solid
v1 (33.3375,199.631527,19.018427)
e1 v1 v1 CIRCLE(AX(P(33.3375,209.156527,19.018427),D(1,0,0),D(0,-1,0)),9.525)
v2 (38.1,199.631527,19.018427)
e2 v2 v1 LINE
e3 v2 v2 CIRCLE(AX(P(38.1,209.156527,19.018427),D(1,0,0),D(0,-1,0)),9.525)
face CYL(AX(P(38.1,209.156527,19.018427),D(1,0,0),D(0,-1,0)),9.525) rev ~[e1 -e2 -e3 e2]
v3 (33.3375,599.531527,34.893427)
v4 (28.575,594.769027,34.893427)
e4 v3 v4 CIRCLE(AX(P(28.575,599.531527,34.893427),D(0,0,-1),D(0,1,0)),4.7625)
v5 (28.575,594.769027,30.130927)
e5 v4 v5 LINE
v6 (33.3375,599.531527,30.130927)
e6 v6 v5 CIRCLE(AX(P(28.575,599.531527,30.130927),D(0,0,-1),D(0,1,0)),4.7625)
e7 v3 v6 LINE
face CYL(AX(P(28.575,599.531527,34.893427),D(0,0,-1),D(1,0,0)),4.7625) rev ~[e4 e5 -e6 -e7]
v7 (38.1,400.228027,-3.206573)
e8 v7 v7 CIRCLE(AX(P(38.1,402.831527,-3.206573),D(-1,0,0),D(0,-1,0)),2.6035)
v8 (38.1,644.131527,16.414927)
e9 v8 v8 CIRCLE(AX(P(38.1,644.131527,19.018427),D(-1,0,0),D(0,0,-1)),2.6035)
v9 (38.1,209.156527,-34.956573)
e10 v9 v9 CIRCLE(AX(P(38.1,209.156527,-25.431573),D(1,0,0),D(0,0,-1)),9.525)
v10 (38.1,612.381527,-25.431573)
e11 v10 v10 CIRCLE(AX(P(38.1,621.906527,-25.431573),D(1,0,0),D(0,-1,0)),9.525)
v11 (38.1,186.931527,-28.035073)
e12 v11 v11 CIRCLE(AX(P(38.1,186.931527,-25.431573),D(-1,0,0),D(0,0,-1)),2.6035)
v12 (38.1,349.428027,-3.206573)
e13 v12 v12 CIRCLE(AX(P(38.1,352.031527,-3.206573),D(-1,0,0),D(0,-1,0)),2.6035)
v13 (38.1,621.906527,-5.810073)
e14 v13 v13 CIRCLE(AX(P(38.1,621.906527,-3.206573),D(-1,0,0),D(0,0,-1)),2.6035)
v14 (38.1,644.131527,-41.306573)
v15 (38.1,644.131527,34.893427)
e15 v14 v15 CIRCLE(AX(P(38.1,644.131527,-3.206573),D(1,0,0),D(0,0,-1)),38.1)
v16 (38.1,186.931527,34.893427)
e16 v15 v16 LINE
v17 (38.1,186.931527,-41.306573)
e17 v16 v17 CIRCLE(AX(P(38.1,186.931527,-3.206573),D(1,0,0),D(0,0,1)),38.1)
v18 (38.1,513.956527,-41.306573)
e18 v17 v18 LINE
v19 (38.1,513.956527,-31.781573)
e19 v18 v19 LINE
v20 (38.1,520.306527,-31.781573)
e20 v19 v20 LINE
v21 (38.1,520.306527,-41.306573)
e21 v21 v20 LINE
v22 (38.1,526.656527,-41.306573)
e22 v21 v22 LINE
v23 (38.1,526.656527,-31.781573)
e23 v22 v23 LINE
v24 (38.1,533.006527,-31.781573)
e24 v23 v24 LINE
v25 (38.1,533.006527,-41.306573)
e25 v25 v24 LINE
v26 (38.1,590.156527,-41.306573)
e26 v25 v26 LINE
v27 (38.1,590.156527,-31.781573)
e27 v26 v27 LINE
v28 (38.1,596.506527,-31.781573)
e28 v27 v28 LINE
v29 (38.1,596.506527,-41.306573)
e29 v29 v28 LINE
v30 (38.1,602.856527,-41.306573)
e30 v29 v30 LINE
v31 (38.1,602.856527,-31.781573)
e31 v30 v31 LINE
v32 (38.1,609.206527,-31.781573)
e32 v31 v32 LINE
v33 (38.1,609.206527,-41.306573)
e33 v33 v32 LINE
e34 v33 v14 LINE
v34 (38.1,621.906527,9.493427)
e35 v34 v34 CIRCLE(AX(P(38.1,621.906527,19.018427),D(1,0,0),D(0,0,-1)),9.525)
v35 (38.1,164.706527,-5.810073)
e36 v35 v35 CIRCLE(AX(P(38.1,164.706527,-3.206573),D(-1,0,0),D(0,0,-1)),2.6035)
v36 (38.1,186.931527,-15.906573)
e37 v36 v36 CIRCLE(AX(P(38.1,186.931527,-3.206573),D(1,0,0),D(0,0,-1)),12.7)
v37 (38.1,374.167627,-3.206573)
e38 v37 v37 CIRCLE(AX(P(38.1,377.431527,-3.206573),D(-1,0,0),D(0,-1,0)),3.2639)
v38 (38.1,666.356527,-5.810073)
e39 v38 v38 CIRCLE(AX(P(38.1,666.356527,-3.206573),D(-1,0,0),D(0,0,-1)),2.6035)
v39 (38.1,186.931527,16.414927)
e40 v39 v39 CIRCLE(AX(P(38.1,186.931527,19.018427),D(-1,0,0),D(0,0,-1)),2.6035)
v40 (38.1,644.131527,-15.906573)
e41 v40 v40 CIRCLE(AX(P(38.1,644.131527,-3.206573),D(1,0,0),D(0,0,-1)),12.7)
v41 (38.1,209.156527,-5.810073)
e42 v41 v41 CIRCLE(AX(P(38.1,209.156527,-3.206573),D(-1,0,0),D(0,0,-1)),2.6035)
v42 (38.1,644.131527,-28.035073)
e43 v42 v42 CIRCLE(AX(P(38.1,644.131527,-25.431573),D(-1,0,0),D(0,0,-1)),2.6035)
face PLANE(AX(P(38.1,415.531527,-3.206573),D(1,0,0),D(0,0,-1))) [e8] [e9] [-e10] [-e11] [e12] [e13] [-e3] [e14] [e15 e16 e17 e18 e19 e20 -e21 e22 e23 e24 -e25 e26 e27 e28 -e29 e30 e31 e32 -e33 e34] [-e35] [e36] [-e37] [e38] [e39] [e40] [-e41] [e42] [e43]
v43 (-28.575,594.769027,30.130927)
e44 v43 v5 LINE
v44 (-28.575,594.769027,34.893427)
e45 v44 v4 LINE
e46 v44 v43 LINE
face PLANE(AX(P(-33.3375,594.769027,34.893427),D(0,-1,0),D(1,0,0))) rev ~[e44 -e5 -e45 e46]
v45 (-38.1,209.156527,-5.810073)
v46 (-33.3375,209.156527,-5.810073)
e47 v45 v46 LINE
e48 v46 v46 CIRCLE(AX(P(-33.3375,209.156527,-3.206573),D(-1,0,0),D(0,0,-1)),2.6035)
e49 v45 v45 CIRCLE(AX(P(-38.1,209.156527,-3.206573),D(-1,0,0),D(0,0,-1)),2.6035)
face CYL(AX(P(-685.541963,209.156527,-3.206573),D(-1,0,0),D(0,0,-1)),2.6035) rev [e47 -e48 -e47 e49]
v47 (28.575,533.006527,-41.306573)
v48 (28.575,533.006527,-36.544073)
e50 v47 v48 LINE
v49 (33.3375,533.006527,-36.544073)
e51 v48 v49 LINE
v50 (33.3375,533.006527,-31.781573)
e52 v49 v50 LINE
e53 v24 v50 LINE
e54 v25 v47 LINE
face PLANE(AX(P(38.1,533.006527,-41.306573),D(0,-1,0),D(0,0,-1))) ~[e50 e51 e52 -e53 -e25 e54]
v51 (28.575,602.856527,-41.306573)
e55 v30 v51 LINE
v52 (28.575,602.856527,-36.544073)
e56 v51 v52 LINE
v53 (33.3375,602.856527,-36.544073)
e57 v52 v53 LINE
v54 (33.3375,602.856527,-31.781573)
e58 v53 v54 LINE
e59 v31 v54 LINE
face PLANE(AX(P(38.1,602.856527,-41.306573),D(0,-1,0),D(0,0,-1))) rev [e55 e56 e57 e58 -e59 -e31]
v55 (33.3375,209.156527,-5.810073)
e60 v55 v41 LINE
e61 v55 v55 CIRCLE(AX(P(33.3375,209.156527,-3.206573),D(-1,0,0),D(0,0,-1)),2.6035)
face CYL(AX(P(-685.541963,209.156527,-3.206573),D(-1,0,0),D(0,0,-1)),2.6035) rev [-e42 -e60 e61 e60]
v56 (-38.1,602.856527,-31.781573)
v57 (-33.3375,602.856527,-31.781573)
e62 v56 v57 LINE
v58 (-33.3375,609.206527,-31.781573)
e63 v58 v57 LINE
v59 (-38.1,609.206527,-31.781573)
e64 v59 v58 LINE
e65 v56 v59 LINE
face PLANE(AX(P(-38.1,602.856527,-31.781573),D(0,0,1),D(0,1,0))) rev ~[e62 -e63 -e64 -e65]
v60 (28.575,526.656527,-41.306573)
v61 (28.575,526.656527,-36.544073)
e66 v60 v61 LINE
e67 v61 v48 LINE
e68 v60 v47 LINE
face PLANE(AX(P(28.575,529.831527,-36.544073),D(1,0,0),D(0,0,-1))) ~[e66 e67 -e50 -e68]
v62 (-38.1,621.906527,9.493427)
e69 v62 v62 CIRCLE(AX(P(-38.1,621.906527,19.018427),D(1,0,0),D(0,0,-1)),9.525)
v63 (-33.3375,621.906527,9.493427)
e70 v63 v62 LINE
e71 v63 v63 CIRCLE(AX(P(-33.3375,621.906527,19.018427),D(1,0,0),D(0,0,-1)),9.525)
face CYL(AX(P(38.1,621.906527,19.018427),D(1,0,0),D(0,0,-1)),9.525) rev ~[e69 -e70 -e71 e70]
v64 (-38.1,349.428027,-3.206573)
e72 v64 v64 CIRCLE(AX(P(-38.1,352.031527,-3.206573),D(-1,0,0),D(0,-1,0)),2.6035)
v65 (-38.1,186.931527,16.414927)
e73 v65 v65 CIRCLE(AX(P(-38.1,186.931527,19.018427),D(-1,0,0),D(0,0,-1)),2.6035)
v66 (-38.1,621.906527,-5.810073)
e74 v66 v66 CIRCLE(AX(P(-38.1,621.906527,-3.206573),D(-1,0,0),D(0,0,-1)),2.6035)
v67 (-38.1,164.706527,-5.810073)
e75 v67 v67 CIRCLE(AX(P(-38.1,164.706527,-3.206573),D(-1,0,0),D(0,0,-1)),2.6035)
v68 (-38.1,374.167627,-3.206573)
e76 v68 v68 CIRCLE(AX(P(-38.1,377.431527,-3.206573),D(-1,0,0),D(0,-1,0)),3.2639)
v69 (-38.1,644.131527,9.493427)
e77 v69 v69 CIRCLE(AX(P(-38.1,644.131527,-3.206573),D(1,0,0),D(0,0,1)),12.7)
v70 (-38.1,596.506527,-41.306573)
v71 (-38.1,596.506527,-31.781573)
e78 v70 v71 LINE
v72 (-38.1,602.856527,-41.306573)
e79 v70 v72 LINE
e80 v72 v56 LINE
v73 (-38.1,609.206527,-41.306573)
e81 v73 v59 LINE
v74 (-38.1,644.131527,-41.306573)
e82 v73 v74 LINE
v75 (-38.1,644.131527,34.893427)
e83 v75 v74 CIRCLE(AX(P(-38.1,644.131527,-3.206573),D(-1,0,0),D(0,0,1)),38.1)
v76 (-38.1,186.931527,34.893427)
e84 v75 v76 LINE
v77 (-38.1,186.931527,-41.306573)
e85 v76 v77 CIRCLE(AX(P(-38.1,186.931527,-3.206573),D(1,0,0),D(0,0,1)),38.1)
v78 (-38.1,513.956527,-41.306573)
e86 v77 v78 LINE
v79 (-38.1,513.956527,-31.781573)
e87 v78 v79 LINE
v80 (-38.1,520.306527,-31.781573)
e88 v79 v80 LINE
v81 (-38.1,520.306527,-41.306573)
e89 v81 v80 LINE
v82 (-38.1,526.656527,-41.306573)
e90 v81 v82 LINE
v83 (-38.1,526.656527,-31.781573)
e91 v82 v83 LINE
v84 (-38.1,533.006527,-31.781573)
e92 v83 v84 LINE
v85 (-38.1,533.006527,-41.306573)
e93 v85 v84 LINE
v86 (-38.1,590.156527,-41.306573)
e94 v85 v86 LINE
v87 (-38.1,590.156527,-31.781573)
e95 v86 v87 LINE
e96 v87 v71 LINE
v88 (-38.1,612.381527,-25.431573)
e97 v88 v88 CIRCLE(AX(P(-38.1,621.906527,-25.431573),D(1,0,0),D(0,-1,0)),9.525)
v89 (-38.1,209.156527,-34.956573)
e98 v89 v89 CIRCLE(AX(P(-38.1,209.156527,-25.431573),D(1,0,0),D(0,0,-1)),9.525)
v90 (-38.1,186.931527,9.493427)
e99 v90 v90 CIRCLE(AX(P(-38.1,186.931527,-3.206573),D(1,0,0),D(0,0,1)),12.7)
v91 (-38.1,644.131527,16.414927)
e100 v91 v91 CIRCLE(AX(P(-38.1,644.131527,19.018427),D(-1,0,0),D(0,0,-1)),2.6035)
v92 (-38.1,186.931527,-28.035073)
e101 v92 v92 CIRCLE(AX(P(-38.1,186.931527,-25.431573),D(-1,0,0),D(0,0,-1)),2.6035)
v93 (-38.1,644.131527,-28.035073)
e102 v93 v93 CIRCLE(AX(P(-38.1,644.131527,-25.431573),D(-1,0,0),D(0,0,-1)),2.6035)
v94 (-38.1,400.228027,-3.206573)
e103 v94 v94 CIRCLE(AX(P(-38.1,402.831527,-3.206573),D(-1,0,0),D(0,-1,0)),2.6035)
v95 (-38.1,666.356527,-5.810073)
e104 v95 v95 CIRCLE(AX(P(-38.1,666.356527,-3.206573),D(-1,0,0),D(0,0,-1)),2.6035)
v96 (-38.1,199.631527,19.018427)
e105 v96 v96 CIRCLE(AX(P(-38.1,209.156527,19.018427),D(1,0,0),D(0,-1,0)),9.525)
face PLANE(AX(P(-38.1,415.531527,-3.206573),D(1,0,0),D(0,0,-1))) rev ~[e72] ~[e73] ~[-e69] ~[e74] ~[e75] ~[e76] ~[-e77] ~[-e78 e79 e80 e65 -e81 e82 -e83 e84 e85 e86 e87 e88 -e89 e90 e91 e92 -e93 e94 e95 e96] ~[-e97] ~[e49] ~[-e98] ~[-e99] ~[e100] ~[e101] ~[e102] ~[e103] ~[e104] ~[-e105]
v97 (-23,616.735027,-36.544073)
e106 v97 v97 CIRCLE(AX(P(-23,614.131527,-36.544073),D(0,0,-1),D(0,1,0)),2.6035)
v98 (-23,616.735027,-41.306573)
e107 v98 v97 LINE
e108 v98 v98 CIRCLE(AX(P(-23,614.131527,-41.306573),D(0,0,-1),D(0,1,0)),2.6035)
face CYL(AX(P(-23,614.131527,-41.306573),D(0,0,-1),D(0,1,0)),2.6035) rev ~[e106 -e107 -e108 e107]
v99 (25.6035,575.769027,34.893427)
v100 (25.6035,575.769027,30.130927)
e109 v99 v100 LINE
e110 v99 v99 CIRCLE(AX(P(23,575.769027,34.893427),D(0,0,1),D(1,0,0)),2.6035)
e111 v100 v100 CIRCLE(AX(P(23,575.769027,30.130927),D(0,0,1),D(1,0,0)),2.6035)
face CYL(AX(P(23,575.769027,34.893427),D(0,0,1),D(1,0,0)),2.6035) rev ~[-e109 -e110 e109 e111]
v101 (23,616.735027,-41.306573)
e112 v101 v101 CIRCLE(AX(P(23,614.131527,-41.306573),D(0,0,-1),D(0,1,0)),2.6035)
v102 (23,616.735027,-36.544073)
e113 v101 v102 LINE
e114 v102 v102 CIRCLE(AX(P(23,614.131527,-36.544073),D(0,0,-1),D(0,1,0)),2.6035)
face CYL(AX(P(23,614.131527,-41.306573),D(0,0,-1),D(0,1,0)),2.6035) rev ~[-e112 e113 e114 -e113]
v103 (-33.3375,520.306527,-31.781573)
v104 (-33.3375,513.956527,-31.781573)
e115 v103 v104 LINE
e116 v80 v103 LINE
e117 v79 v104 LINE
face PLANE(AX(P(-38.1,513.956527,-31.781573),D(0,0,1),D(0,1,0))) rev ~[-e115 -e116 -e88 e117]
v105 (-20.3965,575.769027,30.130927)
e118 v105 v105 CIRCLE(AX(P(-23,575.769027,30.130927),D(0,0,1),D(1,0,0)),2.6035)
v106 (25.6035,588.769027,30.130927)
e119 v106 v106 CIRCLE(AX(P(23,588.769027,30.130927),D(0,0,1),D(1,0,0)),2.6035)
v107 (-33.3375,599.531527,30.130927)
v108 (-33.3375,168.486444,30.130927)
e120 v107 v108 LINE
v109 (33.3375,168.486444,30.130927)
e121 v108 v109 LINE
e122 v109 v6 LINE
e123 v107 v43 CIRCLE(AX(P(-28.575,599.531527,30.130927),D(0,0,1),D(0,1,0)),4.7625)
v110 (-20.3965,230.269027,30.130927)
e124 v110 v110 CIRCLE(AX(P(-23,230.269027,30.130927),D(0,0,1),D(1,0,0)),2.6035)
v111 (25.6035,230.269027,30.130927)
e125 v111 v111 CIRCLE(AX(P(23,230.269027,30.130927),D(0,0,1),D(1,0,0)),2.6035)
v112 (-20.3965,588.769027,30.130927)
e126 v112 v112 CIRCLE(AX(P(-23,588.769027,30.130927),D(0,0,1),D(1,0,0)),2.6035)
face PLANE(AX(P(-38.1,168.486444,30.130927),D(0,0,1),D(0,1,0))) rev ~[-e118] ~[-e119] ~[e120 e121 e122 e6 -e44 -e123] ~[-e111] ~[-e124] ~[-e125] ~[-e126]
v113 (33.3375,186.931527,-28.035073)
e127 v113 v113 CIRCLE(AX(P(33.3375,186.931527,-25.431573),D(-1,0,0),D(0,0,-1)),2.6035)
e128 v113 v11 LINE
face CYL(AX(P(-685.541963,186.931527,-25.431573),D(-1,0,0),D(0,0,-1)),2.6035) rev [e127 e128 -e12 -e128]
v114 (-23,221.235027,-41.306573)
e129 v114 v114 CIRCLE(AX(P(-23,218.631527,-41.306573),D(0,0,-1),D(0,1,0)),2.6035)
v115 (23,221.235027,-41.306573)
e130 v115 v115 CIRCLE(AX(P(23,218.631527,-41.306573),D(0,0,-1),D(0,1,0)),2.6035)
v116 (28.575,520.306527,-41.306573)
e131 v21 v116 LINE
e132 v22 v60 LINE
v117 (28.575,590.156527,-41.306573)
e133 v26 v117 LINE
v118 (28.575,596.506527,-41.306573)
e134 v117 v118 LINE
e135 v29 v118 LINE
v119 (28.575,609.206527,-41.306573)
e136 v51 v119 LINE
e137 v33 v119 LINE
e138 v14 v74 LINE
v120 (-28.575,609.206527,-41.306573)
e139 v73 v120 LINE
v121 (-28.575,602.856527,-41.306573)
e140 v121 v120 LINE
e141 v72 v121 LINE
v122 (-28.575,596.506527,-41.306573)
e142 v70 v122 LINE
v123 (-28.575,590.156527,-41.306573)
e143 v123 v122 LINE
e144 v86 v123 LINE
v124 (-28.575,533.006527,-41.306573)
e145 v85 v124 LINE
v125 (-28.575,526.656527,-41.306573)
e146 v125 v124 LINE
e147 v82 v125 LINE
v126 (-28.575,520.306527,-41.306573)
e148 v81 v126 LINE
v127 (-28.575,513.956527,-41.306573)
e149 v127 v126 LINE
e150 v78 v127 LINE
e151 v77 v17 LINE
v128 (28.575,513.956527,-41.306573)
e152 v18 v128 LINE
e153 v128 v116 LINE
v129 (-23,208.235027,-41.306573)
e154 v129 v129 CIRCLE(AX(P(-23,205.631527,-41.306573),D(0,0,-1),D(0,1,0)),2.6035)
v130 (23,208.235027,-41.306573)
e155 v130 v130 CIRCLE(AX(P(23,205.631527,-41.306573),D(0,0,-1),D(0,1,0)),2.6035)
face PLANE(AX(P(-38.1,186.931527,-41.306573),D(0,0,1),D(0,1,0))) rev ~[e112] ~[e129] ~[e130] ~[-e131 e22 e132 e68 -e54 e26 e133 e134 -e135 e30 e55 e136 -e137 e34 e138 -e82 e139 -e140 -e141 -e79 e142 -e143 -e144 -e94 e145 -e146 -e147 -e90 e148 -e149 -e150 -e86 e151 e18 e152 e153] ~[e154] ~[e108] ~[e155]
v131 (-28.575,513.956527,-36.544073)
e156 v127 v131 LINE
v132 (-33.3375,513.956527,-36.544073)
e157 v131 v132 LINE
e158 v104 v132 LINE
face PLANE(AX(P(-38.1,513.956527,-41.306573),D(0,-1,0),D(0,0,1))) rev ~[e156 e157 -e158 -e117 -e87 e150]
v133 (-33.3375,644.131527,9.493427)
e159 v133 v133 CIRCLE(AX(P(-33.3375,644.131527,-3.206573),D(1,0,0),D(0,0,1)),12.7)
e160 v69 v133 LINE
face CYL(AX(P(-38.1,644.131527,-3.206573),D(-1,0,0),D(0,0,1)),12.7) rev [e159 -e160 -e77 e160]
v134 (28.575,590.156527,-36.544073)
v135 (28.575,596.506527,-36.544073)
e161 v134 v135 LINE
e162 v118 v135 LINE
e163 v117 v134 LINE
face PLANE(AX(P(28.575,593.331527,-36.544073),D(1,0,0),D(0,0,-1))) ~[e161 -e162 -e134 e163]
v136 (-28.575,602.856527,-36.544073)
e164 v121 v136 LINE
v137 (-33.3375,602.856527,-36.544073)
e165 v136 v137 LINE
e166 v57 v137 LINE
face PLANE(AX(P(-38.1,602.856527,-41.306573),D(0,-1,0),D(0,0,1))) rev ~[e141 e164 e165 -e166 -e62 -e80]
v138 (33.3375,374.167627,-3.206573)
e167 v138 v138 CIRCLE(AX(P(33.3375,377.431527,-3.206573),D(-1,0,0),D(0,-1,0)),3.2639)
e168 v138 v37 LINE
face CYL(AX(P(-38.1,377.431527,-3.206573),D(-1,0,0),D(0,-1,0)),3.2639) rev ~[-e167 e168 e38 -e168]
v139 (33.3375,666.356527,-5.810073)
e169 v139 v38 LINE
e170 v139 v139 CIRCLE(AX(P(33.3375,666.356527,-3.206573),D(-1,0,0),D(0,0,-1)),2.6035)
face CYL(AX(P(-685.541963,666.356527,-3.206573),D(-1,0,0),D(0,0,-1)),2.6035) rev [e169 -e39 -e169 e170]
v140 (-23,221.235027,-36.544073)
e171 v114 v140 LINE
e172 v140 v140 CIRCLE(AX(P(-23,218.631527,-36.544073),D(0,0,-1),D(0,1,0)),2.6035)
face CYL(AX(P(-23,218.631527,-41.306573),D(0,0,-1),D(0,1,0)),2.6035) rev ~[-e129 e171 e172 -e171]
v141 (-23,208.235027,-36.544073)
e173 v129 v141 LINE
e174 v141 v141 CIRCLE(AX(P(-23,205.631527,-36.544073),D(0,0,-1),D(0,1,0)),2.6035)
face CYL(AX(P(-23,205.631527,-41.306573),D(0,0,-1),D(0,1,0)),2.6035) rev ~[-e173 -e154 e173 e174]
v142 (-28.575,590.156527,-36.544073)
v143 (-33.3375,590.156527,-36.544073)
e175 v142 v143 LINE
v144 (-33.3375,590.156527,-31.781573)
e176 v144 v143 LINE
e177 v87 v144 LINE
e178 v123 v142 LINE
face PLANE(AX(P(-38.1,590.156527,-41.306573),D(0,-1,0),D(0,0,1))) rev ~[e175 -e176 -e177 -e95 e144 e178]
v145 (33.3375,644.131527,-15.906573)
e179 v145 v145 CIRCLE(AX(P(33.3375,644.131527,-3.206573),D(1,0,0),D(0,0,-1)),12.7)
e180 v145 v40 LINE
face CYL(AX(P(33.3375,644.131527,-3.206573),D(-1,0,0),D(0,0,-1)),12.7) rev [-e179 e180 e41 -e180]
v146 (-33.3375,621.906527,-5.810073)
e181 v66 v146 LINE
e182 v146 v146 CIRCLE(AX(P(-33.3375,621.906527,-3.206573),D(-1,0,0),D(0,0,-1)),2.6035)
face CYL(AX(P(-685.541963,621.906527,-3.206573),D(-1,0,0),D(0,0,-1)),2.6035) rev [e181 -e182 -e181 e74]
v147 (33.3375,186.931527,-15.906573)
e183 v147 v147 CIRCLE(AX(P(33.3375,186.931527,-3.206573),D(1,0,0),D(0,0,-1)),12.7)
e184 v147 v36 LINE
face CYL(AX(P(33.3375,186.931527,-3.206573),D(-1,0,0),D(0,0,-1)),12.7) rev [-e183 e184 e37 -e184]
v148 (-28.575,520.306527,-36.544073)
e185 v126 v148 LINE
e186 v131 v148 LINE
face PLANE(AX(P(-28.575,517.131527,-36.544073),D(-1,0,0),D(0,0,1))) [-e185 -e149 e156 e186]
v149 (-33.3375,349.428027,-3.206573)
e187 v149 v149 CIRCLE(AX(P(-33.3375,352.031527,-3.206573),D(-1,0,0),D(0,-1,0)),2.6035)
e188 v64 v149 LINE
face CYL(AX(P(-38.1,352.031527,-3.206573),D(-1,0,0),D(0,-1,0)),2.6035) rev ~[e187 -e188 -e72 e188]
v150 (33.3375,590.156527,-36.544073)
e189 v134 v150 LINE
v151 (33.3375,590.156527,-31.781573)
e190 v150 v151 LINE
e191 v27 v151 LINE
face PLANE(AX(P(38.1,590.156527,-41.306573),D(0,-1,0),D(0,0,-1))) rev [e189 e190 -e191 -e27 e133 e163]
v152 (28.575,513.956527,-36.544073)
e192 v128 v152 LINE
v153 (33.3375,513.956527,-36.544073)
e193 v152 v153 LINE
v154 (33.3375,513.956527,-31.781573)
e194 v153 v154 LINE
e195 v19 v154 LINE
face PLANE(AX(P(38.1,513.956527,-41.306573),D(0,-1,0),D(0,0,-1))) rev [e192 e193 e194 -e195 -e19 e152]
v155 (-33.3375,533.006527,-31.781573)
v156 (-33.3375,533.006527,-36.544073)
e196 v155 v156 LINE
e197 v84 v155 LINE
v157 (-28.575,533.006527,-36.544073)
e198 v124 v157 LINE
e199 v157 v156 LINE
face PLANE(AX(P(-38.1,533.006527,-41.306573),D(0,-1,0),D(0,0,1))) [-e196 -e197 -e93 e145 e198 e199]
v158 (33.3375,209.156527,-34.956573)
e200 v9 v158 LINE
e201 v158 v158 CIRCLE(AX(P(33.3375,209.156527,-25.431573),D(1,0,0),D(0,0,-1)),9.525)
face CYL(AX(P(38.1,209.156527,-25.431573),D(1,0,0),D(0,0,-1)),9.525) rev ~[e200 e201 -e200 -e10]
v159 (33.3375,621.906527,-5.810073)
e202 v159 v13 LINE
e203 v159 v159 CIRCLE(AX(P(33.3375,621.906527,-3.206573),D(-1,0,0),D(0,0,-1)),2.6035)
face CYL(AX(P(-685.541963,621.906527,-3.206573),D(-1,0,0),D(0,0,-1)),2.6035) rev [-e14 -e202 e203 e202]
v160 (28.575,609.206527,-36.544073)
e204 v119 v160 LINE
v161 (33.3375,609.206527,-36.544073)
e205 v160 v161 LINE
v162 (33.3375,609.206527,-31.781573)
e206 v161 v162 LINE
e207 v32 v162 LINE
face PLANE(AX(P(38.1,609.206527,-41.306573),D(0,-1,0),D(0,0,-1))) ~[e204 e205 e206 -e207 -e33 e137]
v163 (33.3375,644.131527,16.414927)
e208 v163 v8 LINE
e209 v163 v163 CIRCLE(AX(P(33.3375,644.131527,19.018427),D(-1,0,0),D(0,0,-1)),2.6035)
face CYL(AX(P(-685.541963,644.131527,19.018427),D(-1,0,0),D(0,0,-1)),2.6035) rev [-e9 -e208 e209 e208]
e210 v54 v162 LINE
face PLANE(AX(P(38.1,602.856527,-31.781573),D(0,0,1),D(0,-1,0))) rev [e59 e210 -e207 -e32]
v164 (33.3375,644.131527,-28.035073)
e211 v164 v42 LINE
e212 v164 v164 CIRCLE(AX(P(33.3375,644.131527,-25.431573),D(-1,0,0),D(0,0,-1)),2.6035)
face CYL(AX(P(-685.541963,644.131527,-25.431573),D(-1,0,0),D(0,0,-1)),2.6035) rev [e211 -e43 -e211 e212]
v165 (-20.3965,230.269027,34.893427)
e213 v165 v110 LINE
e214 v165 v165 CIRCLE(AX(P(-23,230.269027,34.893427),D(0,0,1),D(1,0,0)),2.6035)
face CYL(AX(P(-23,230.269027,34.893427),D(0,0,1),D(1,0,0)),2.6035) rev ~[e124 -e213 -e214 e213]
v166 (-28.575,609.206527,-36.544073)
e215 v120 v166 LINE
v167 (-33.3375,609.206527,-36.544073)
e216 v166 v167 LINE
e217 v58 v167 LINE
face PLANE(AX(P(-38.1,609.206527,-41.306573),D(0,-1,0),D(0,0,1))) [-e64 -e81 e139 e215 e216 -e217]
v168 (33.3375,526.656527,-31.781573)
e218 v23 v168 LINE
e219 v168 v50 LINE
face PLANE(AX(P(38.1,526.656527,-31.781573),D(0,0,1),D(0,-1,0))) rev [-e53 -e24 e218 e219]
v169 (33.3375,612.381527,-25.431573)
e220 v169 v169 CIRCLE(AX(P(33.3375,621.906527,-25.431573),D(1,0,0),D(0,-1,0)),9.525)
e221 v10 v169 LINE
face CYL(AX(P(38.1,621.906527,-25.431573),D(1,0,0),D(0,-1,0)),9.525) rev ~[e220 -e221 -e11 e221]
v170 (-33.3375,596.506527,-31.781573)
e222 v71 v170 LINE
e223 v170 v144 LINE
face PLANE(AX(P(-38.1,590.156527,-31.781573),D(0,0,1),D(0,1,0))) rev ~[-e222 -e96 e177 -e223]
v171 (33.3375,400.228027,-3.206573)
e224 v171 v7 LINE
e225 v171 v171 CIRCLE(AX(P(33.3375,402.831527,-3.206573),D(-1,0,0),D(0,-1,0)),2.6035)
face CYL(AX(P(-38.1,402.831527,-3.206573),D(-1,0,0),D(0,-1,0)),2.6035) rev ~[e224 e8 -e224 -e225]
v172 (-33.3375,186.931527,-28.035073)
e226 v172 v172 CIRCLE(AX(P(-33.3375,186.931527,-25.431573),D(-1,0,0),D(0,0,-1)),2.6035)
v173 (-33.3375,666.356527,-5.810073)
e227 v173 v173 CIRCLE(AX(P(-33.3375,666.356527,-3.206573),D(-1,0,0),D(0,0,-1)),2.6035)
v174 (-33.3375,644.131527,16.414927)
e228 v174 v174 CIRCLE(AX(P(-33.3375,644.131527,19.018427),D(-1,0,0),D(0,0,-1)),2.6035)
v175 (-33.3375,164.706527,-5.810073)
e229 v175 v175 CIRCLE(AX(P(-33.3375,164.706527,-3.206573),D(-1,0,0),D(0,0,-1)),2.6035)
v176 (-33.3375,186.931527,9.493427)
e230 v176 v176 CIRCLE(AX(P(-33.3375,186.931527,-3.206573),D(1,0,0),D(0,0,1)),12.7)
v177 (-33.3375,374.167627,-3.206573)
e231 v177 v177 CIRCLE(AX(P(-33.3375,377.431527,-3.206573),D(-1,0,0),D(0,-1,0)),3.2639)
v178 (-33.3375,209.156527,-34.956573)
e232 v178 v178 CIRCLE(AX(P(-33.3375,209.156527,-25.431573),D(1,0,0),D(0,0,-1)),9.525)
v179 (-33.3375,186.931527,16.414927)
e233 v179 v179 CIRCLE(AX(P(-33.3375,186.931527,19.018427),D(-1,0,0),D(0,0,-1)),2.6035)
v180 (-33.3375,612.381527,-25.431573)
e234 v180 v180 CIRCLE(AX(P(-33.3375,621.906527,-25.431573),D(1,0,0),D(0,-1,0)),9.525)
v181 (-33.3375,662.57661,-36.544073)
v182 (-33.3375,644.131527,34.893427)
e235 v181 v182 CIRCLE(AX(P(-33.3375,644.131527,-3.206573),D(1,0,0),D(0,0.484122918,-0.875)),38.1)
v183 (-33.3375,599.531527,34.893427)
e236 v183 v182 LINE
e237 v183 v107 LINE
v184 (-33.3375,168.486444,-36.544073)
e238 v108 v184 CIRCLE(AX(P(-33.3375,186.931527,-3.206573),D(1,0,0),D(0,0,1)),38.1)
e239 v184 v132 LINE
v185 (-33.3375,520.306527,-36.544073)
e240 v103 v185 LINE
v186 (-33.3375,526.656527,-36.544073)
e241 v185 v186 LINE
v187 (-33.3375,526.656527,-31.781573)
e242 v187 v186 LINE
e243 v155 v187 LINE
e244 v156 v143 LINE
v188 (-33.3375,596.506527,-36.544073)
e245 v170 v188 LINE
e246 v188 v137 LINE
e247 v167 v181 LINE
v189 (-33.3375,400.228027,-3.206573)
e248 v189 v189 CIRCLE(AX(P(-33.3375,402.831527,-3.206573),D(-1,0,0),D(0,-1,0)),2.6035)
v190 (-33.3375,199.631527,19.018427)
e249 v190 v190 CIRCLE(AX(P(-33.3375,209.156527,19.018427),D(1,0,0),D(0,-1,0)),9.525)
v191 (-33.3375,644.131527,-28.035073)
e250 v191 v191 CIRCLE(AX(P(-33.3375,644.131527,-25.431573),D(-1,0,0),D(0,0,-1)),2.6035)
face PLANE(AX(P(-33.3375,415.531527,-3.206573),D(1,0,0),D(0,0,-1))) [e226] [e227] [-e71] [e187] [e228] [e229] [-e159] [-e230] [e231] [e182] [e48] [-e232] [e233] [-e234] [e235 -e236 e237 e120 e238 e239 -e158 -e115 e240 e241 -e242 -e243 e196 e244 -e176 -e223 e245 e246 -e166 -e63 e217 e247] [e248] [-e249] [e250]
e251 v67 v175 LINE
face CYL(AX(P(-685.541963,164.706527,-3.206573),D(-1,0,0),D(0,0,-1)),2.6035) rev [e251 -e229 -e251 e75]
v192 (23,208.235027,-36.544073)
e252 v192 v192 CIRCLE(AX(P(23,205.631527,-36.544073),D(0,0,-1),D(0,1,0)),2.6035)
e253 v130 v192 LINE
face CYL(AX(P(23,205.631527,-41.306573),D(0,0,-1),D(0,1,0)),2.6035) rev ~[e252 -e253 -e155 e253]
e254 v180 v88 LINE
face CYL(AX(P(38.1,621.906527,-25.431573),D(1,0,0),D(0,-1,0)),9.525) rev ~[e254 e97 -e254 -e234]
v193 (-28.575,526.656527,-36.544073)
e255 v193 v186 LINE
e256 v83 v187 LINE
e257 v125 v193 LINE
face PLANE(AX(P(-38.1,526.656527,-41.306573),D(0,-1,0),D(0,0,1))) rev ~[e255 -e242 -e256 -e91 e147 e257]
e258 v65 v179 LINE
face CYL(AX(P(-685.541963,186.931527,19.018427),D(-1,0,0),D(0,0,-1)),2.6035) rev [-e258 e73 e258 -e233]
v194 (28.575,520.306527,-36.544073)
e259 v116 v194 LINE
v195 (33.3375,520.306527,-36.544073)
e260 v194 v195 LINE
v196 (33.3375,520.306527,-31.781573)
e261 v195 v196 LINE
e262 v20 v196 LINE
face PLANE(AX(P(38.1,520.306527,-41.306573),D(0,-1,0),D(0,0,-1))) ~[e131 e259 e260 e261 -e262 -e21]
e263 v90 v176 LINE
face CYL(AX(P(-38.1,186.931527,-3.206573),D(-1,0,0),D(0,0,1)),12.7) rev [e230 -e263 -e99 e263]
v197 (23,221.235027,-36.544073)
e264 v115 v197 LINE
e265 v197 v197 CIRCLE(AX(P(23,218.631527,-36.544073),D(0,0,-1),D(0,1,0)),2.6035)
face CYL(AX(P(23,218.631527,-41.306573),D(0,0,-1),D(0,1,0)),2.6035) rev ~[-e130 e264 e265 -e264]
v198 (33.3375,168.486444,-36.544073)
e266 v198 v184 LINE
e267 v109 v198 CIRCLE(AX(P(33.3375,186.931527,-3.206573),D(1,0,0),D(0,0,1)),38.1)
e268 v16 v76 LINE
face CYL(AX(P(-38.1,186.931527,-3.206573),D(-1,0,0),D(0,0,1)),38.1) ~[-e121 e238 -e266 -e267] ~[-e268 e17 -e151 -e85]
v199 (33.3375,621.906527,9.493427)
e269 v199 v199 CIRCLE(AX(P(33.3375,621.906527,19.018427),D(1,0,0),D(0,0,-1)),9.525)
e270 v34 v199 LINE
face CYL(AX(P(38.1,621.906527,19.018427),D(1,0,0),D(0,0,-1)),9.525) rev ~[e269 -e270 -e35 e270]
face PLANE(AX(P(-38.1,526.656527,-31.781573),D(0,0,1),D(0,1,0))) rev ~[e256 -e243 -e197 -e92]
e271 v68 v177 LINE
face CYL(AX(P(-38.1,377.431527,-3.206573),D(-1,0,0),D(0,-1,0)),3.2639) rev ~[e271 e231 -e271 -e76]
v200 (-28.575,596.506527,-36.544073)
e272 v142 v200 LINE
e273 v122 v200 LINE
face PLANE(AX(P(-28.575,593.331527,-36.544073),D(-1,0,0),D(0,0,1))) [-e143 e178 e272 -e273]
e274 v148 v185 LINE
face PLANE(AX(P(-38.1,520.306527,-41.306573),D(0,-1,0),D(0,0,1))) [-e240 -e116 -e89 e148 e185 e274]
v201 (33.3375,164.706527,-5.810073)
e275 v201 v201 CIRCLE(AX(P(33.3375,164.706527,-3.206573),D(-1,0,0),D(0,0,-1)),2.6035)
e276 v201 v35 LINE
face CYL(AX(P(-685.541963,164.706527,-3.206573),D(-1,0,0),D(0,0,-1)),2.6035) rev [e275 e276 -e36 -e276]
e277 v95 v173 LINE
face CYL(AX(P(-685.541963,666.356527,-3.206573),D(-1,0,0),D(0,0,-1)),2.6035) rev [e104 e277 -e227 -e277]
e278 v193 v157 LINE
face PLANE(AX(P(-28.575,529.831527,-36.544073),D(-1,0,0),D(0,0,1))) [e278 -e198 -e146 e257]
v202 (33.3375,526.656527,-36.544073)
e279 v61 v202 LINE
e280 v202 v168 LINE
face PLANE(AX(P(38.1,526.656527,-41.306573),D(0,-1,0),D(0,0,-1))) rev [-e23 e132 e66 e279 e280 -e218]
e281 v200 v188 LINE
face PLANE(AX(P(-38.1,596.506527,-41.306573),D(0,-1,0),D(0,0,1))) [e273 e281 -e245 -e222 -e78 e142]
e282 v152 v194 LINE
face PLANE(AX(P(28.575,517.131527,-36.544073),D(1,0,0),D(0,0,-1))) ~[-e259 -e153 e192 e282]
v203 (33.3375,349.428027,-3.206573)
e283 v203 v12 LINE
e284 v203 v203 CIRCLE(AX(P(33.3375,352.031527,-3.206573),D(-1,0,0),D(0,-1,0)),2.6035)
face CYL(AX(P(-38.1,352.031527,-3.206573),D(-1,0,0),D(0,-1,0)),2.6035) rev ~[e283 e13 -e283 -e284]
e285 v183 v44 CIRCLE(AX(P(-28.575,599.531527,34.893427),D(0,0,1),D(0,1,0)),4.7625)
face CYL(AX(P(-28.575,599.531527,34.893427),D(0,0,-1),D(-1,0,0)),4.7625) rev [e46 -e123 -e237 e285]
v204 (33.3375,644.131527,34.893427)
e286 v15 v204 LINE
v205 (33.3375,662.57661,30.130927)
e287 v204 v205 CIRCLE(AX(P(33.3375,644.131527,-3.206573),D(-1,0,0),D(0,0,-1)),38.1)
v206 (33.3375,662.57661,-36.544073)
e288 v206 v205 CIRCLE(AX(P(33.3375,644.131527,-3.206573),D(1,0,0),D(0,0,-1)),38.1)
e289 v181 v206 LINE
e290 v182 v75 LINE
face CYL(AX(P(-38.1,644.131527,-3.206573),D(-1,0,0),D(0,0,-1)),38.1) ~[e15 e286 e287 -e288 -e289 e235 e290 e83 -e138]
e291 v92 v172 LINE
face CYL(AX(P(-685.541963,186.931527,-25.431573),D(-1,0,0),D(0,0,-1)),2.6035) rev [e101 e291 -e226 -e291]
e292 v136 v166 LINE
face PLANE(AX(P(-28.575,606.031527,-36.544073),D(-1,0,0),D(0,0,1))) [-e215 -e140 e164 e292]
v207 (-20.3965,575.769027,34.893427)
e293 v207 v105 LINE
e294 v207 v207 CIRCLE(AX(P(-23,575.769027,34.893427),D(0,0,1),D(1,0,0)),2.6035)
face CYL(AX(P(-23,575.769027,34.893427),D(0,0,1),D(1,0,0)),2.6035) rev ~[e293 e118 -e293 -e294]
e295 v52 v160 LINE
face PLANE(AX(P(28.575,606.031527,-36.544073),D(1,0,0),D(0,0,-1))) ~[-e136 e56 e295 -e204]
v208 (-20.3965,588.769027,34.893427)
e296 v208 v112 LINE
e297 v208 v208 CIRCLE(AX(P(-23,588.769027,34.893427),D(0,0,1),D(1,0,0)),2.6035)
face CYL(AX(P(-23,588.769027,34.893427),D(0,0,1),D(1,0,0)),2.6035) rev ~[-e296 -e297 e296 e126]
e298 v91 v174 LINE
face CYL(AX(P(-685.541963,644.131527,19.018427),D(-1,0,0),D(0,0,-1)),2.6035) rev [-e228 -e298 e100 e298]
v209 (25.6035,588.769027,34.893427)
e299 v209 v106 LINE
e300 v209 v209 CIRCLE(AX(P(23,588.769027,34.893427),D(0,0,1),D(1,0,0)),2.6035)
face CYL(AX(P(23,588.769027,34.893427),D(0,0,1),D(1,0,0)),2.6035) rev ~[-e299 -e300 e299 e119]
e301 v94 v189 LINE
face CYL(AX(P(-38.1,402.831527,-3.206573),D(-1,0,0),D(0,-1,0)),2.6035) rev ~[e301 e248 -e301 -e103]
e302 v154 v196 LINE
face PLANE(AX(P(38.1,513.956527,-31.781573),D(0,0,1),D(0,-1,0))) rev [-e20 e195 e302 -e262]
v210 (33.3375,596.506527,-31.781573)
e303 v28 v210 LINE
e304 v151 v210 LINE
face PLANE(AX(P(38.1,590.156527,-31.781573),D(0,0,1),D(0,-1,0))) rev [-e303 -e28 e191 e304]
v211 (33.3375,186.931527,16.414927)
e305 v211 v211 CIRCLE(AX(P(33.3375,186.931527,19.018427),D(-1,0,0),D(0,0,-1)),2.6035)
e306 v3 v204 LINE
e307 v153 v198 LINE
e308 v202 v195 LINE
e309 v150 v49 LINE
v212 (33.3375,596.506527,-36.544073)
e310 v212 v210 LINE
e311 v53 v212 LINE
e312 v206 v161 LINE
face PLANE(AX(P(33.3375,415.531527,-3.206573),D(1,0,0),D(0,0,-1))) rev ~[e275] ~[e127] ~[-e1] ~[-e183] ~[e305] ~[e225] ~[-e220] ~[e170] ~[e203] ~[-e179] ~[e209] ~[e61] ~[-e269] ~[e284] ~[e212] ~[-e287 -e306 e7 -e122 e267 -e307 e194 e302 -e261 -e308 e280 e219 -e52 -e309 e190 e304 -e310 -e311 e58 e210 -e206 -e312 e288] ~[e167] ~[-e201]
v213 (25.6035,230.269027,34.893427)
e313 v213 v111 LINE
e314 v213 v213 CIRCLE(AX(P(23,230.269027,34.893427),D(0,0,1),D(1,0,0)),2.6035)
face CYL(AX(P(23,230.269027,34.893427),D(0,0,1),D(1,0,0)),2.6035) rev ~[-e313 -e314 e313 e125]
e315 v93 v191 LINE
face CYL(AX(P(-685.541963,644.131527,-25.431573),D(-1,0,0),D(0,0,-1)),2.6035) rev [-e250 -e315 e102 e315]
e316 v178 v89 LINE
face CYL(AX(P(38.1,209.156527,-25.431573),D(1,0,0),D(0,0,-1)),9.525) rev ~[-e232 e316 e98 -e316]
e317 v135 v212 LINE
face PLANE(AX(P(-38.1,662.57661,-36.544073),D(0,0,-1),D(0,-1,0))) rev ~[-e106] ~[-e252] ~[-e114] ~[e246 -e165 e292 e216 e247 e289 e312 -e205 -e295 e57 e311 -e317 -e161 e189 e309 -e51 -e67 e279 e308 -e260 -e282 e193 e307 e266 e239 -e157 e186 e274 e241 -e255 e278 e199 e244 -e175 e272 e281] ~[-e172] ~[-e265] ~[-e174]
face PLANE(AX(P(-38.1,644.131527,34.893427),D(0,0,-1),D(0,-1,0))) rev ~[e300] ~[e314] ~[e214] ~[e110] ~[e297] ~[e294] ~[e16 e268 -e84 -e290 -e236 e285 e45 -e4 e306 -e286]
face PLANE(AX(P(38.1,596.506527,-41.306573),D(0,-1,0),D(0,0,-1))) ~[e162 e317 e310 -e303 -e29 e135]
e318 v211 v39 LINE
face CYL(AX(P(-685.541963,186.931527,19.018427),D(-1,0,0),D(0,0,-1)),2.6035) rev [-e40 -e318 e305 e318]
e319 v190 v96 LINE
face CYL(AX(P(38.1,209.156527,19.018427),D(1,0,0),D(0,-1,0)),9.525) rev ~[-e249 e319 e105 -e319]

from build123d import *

# Parameters (mm, degrees)
BOSS_EXTRUDE1_START     = 33.3375
SKETCH1_R               = 12.7
BOSS_EXTRUDE1_DEPTH     = 4.7625
BOSS_EXTRUDE2_START     = -38.1
SKETCH1_6_R             = 12.7
BOSS_EXTRUDE2_DEPTH     = 4.7625
BOSS_EXTRUDE3_DEPTH     = 33.3375
BOSS_EXTRUDE4_START     = -38.1
BOSS_EXTRUDE4_DEPTH     = 38.1
SKETCH2_W               = 66.675
SKETCH2_H               = 67.807583187
CUT_EXTRUDE1_DEPTH      = 4.7625
SKETCH3_R               = 2.603499999
CUT_EXTRUDE2_DEPTH      = 4.7625
SKETCH4_R               = 2.6035
SKETCH4_R_2             = 2.603499999
CUT_EXTRUDE3_DEPTH      = 4.7625
SKETCH5_R               = 2.6035
SKETCH5_R_2             = 3.2639
CUT_EXTRUDE4_DEPTH      = 688.71544222
CUT_EXTRUDE5_DEPTH      = 685.541963263
CUT_EXTRUDE5_DEPTH_BACK = 685.541963263
SKETCH6_R               = 2.6035
SKETCH7_R               = 9.525
CUT_EXTRUDE6_DEPTH      = 688.71544222
FILLET1_R               = 4.7625
SKETCH8_W               = 9.525
SKETCH8_H               = 6.35
CUT_EXTRUDE7_DEPTH      = 9.525


with BuildPart() as part:
    # Sketch1 → Boss-Extrude1 (new body)
    with BuildSketch(Plane(origin=(0, 0, 0), x_dir=(0, 0, -1), z_dir=(1, 0, 0)).offset(BOSS_EXTRUDE1_START)):
        with BuildLine():
            Line((41.306573009, 186.931527045), (41.306573009, 644.131527045))
            ThreePointArc((41.306573009, 644.131527045), (3.206573009, 682.231527045), (-34.893426991, 644.131527045))
            Line((-34.893426991, 644.131527045), (-34.893426991, 186.931527045))
            ThreePointArc((-34.893426991, 186.931527045), (3.206573009, 148.831527045), (41.306573009, 186.931527045))
        make_face()
        with Locations((3.206573009, 186.931527045)):
            Circle(SKETCH1_R, mode=Mode.SUBTRACT)
        with Locations((3.206573009, 644.131527045)):
            Circle(SKETCH1_R, mode=Mode.SUBTRACT)
    extrude(amount=BOSS_EXTRUDE1_DEPTH)

    # Sketch1<7> → Boss-Extrude3 (add)
    with BuildSketch(Plane(origin=(0, 0, 0), x_dir=(0, 0, -1), z_dir=(1, 0, 0))):
        with BuildLine():
            ThreePointArc((-34.893426991, 186.931527045), (-33.683593364, 177.406527045), (-30.130926991, 168.486443859))
            Line((-30.130926991, 168.486443859), (-30.130926991, 662.576610232))
            ThreePointArc((-30.130926991, 662.576610232), (-33.683593364, 653.656527045), (-34.893426991, 644.131527045))
            Line((-34.893426991, 644.131527045), (-34.893426991, 186.931527045))
        make_face()
        with BuildLine():
            ThreePointArc((36.544073009, 168.486443859), (40.096739381, 177.406527045), (41.306573009, 186.931527045))
            Line((41.306573009, 186.931527045), (41.306573009, 644.131527045))
            ThreePointArc((41.306573009, 644.131527045), (40.096739381, 653.656527045), (36.544073009, 662.576610232))
            Line((36.544073009, 662.576610232), (36.544073009, 168.486443859))
        make_face()
    extrude(amount=BOSS_EXTRUDE3_DEPTH)



with BuildPart() as body_2:
    # Sketch1<6> → Boss-Extrude2 (new body)
    with BuildSketch(Plane(origin=(0, 0, 0), x_dir=(0, 0, -1), z_dir=(1, 0, 0)).offset(BOSS_EXTRUDE2_START)):
        with BuildLine():
            Line((41.306573009, 186.931527045), (41.306573009, 644.131527045))
            ThreePointArc((41.306573009, 644.131527045), (3.206573009, 682.231527045), (-34.893426991, 644.131527045))
            Line((-34.893426991, 644.131527045), (-34.893426991, 186.931527045))
            ThreePointArc((-34.893426991, 186.931527045), (3.206573009, 148.831527045), (41.306573009, 186.931527045))
        make_face()
        with Locations(Location((3.206573009, 186.931527045, 0), (0, 0, 180))):
            Circle(SKETCH1_6_R, mode=Mode.SUBTRACT)
        with Locations(Location((3.206573009, 644.131527045, 0), (0, 0, 180))):
            Circle(SKETCH1_6_R, mode=Mode.SUBTRACT)
    extrude(amount=BOSS_EXTRUDE2_DEPTH)


with BuildPart() as part_1:
    add(part.part)

    add(body_2.part)  # Boss-Extrude4 merges body 2
    # Sketch1<8> → Boss-Extrude4 (add)
    with BuildSketch(Plane(origin=(0, 0, 0), x_dir=(0, 0, -1), z_dir=(1, 0, 0)).offset(BOSS_EXTRUDE4_START)):
        with BuildLine():
            ThreePointArc((-34.893426991, 186.931527045), (-33.683593364, 177.406527045), (-30.130926991, 168.486443859))
            Line((-30.130926991, 168.486443859), (-30.130926991, 662.576610232))
            ThreePointArc((-30.130926991, 662.576610232), (-33.683593364, 653.656527045), (-34.893426991, 644.131527045))
            Line((-34.893426991, 644.131527045), (-34.893426991, 186.931527045))
        make_face()
        with BuildLine():
            ThreePointArc((36.544073009, 168.486443859), (40.096739381, 177.406527045), (41.306573009, 186.931527045))
            Line((41.306573009, 186.931527045), (41.306573009, 644.131527045))
            ThreePointArc((41.306573009, 644.131527045), (40.096739381, 653.656527045), (36.544073009, 662.576610232))
            Line((36.544073009, 662.576610232), (36.544073009, 168.486443859))
        make_face()
    extrude(amount=BOSS_EXTRUDE4_DEPTH)

    # Sketch2 → Cut-Extrude1 (cut)
    with BuildSketch(Plane.XY.offset(34.893426991)):
        with Locations((0, 628.672818639)):
            Rectangle(SKETCH2_W, SKETCH2_H)
    extrude(amount=-CUT_EXTRUDE1_DEPTH, mode=Mode.SUBTRACT)

    # Sketch3 → Cut-Extrude2 (cut)
    with BuildSketch(Plane.XY.offset(34.893426991)):
        with Locations((23, 575.769027045)):
            Circle(SKETCH3_R)
        with Locations((23, 588.769027045)):
            Circle(SKETCH3_R)
        with Locations((-23, 575.769027045)):
            Circle(SKETCH3_R)
        with Locations((-23, 588.769027045)):
            Circle(SKETCH3_R)
        with Locations((-23, 230.269027045)):
            Circle(SKETCH3_R)
        with Locations((23, 230.269027045)):
            Circle(SKETCH3_R)
    extrude(amount=-CUT_EXTRUDE2_DEPTH, mode=Mode.SUBTRACT)

    # Sketch4 → Cut-Extrude3 (cut)
    with BuildSketch(Plane(origin=(0, 0, -41.306573009), x_dir=(-1, 0, 0), z_dir=(0, 0, -1))):
        with Locations(Location((-23, 205.631527043, 0), (0, 0, 90))):
            Circle(SKETCH4_R)
        with Locations(Location((-23, 218.631527043, 0), (0, 0, 90))):
            Circle(SKETCH4_R)
        with Locations(Location((23, 218.631527043, 0), (0, 0, 90))):
            Circle(SKETCH4_R)
        with Locations(Location((23, 205.631527043, 0), (0, 0, 90))):
            Circle(SKETCH4_R)
        with Locations(Location((23, 614.131527045, 0), (0, 0, 90))):
            Circle(SKETCH4_R_2)
        with Locations(Location((-23, 614.131527045, 0), (0, 0, 90))):
            Circle(SKETCH4_R_2)
    extrude(amount=-CUT_EXTRUDE3_DEPTH, mode=Mode.SUBTRACT)

    # Sketch5 → Cut-Extrude4 (cut, through all)
    with BuildSketch(Plane.ZY.offset(38.1)):
        with Locations(Location((-3.206573009, 352.031527045, 0), (0, 0, 270))):
            Circle(SKETCH5_R)
        with Locations(Location((-3.206573009, 402.831527045, 0), (0, 0, 270))):
            Circle(SKETCH5_R)
        with Locations(Location((-3.206573009, 377.431527045, 0), (0, 0, 270))):
            Circle(SKETCH5_R_2)
    extrude(amount=-CUT_EXTRUDE4_DEPTH, mode=Mode.SUBTRACT)

    # Sketch6 → Cut-Extrude5 (cut, two sides: drawn at the far end of the back side and taken through both)
    with BuildSketch(Plane(origin=(0, 0, 0), x_dir=(0, 0, -1), z_dir=(1, 0, 0)).offset(-CUT_EXTRUDE5_DEPTH_BACK)):
        with Locations((25.431573009, 186.931527045)):
            Circle(SKETCH6_R)
        with Locations((3.206573009, 209.156527045)):
            Circle(SKETCH6_R)
        with Locations((-19.018426991, 186.931527045)):
            Circle(SKETCH6_R)
        with Locations((3.206573009, 164.706527045)):
            Circle(SKETCH6_R)
        with Locations((-19.018426991, 644.131527045)):
            Circle(SKETCH6_R)
        with Locations((3.206573009, 666.356527045)):
            Circle(SKETCH6_R)
        with Locations((25.431573009, 644.131527045)):
            Circle(SKETCH6_R)
        with Locations((3.206573009, 621.906527045)):
            Circle(SKETCH6_R)
    extrude(amount=CUT_EXTRUDE5_DEPTH + CUT_EXTRUDE5_DEPTH_BACK, mode=Mode.SUBTRACT)

    # Sketch7 → Cut-Extrude6 (cut, through all)
    with BuildSketch(Plane(origin=(38.1, 0, 0), x_dir=(0, 0, -1), z_dir=(1, 0, 0))):
        with Locations((25.431573009, 209.156527045)):
            Circle(SKETCH7_R)
        with Locations(Location((25.431573009, 621.906527045, 0), (0, 0, 270))):
            Circle(SKETCH7_R)
        with Locations(Location((-19.018426991, 209.156527045, 0), (0, 0, 270))):
            Circle(SKETCH7_R)
        with Locations((-19.018426991, 621.906527045)):
            Circle(SKETCH7_R)
    extrude(amount=-CUT_EXTRUDE6_DEPTH, mode=Mode.SUBTRACT)

    # Fillet1
    fillet1_edges = [part_1.edges().sort_by_distance(p)[0] for p in [
        (-33.3375, 594.769027045, 32.512176991),
        (33.3375, 594.769027045, 32.512176991),
    ]]
    fillet(fillet1_edges, radius=FILLET1_R)

    # Sketch8 → Cut-Extrude7 (cut)
    with BuildSketch(Plane.ZY.offset(38.1)):
        with Locations((-36.544073009, 606.031527045)):
            Rectangle(SKETCH8_W, SKETCH8_H)
        with Locations((-36.544073009, 593.331527045)):
            Rectangle(SKETCH8_W, SKETCH8_H)
        with Locations((-36.544073009, 529.831527045)):
            Rectangle(SKETCH8_W, SKETCH8_H)
        with Locations((-36.544073009, 517.131527045)):
            Rectangle(SKETCH8_W, SKETCH8_H)
    cut_extrude7 = extrude(amount=-CUT_EXTRUDE7_DEPTH, mode=Mode.SUBTRACT)

    # Mirror1: Cut-Extrude7 across plane
    add(cut_extrude7.mirror(Plane(origin=(0, 0, 0), x_dir=(0, 0, 1), z_dir=(1, 0, 0))), mode=Mode.SUBTRACT)


solid = part_1.part
